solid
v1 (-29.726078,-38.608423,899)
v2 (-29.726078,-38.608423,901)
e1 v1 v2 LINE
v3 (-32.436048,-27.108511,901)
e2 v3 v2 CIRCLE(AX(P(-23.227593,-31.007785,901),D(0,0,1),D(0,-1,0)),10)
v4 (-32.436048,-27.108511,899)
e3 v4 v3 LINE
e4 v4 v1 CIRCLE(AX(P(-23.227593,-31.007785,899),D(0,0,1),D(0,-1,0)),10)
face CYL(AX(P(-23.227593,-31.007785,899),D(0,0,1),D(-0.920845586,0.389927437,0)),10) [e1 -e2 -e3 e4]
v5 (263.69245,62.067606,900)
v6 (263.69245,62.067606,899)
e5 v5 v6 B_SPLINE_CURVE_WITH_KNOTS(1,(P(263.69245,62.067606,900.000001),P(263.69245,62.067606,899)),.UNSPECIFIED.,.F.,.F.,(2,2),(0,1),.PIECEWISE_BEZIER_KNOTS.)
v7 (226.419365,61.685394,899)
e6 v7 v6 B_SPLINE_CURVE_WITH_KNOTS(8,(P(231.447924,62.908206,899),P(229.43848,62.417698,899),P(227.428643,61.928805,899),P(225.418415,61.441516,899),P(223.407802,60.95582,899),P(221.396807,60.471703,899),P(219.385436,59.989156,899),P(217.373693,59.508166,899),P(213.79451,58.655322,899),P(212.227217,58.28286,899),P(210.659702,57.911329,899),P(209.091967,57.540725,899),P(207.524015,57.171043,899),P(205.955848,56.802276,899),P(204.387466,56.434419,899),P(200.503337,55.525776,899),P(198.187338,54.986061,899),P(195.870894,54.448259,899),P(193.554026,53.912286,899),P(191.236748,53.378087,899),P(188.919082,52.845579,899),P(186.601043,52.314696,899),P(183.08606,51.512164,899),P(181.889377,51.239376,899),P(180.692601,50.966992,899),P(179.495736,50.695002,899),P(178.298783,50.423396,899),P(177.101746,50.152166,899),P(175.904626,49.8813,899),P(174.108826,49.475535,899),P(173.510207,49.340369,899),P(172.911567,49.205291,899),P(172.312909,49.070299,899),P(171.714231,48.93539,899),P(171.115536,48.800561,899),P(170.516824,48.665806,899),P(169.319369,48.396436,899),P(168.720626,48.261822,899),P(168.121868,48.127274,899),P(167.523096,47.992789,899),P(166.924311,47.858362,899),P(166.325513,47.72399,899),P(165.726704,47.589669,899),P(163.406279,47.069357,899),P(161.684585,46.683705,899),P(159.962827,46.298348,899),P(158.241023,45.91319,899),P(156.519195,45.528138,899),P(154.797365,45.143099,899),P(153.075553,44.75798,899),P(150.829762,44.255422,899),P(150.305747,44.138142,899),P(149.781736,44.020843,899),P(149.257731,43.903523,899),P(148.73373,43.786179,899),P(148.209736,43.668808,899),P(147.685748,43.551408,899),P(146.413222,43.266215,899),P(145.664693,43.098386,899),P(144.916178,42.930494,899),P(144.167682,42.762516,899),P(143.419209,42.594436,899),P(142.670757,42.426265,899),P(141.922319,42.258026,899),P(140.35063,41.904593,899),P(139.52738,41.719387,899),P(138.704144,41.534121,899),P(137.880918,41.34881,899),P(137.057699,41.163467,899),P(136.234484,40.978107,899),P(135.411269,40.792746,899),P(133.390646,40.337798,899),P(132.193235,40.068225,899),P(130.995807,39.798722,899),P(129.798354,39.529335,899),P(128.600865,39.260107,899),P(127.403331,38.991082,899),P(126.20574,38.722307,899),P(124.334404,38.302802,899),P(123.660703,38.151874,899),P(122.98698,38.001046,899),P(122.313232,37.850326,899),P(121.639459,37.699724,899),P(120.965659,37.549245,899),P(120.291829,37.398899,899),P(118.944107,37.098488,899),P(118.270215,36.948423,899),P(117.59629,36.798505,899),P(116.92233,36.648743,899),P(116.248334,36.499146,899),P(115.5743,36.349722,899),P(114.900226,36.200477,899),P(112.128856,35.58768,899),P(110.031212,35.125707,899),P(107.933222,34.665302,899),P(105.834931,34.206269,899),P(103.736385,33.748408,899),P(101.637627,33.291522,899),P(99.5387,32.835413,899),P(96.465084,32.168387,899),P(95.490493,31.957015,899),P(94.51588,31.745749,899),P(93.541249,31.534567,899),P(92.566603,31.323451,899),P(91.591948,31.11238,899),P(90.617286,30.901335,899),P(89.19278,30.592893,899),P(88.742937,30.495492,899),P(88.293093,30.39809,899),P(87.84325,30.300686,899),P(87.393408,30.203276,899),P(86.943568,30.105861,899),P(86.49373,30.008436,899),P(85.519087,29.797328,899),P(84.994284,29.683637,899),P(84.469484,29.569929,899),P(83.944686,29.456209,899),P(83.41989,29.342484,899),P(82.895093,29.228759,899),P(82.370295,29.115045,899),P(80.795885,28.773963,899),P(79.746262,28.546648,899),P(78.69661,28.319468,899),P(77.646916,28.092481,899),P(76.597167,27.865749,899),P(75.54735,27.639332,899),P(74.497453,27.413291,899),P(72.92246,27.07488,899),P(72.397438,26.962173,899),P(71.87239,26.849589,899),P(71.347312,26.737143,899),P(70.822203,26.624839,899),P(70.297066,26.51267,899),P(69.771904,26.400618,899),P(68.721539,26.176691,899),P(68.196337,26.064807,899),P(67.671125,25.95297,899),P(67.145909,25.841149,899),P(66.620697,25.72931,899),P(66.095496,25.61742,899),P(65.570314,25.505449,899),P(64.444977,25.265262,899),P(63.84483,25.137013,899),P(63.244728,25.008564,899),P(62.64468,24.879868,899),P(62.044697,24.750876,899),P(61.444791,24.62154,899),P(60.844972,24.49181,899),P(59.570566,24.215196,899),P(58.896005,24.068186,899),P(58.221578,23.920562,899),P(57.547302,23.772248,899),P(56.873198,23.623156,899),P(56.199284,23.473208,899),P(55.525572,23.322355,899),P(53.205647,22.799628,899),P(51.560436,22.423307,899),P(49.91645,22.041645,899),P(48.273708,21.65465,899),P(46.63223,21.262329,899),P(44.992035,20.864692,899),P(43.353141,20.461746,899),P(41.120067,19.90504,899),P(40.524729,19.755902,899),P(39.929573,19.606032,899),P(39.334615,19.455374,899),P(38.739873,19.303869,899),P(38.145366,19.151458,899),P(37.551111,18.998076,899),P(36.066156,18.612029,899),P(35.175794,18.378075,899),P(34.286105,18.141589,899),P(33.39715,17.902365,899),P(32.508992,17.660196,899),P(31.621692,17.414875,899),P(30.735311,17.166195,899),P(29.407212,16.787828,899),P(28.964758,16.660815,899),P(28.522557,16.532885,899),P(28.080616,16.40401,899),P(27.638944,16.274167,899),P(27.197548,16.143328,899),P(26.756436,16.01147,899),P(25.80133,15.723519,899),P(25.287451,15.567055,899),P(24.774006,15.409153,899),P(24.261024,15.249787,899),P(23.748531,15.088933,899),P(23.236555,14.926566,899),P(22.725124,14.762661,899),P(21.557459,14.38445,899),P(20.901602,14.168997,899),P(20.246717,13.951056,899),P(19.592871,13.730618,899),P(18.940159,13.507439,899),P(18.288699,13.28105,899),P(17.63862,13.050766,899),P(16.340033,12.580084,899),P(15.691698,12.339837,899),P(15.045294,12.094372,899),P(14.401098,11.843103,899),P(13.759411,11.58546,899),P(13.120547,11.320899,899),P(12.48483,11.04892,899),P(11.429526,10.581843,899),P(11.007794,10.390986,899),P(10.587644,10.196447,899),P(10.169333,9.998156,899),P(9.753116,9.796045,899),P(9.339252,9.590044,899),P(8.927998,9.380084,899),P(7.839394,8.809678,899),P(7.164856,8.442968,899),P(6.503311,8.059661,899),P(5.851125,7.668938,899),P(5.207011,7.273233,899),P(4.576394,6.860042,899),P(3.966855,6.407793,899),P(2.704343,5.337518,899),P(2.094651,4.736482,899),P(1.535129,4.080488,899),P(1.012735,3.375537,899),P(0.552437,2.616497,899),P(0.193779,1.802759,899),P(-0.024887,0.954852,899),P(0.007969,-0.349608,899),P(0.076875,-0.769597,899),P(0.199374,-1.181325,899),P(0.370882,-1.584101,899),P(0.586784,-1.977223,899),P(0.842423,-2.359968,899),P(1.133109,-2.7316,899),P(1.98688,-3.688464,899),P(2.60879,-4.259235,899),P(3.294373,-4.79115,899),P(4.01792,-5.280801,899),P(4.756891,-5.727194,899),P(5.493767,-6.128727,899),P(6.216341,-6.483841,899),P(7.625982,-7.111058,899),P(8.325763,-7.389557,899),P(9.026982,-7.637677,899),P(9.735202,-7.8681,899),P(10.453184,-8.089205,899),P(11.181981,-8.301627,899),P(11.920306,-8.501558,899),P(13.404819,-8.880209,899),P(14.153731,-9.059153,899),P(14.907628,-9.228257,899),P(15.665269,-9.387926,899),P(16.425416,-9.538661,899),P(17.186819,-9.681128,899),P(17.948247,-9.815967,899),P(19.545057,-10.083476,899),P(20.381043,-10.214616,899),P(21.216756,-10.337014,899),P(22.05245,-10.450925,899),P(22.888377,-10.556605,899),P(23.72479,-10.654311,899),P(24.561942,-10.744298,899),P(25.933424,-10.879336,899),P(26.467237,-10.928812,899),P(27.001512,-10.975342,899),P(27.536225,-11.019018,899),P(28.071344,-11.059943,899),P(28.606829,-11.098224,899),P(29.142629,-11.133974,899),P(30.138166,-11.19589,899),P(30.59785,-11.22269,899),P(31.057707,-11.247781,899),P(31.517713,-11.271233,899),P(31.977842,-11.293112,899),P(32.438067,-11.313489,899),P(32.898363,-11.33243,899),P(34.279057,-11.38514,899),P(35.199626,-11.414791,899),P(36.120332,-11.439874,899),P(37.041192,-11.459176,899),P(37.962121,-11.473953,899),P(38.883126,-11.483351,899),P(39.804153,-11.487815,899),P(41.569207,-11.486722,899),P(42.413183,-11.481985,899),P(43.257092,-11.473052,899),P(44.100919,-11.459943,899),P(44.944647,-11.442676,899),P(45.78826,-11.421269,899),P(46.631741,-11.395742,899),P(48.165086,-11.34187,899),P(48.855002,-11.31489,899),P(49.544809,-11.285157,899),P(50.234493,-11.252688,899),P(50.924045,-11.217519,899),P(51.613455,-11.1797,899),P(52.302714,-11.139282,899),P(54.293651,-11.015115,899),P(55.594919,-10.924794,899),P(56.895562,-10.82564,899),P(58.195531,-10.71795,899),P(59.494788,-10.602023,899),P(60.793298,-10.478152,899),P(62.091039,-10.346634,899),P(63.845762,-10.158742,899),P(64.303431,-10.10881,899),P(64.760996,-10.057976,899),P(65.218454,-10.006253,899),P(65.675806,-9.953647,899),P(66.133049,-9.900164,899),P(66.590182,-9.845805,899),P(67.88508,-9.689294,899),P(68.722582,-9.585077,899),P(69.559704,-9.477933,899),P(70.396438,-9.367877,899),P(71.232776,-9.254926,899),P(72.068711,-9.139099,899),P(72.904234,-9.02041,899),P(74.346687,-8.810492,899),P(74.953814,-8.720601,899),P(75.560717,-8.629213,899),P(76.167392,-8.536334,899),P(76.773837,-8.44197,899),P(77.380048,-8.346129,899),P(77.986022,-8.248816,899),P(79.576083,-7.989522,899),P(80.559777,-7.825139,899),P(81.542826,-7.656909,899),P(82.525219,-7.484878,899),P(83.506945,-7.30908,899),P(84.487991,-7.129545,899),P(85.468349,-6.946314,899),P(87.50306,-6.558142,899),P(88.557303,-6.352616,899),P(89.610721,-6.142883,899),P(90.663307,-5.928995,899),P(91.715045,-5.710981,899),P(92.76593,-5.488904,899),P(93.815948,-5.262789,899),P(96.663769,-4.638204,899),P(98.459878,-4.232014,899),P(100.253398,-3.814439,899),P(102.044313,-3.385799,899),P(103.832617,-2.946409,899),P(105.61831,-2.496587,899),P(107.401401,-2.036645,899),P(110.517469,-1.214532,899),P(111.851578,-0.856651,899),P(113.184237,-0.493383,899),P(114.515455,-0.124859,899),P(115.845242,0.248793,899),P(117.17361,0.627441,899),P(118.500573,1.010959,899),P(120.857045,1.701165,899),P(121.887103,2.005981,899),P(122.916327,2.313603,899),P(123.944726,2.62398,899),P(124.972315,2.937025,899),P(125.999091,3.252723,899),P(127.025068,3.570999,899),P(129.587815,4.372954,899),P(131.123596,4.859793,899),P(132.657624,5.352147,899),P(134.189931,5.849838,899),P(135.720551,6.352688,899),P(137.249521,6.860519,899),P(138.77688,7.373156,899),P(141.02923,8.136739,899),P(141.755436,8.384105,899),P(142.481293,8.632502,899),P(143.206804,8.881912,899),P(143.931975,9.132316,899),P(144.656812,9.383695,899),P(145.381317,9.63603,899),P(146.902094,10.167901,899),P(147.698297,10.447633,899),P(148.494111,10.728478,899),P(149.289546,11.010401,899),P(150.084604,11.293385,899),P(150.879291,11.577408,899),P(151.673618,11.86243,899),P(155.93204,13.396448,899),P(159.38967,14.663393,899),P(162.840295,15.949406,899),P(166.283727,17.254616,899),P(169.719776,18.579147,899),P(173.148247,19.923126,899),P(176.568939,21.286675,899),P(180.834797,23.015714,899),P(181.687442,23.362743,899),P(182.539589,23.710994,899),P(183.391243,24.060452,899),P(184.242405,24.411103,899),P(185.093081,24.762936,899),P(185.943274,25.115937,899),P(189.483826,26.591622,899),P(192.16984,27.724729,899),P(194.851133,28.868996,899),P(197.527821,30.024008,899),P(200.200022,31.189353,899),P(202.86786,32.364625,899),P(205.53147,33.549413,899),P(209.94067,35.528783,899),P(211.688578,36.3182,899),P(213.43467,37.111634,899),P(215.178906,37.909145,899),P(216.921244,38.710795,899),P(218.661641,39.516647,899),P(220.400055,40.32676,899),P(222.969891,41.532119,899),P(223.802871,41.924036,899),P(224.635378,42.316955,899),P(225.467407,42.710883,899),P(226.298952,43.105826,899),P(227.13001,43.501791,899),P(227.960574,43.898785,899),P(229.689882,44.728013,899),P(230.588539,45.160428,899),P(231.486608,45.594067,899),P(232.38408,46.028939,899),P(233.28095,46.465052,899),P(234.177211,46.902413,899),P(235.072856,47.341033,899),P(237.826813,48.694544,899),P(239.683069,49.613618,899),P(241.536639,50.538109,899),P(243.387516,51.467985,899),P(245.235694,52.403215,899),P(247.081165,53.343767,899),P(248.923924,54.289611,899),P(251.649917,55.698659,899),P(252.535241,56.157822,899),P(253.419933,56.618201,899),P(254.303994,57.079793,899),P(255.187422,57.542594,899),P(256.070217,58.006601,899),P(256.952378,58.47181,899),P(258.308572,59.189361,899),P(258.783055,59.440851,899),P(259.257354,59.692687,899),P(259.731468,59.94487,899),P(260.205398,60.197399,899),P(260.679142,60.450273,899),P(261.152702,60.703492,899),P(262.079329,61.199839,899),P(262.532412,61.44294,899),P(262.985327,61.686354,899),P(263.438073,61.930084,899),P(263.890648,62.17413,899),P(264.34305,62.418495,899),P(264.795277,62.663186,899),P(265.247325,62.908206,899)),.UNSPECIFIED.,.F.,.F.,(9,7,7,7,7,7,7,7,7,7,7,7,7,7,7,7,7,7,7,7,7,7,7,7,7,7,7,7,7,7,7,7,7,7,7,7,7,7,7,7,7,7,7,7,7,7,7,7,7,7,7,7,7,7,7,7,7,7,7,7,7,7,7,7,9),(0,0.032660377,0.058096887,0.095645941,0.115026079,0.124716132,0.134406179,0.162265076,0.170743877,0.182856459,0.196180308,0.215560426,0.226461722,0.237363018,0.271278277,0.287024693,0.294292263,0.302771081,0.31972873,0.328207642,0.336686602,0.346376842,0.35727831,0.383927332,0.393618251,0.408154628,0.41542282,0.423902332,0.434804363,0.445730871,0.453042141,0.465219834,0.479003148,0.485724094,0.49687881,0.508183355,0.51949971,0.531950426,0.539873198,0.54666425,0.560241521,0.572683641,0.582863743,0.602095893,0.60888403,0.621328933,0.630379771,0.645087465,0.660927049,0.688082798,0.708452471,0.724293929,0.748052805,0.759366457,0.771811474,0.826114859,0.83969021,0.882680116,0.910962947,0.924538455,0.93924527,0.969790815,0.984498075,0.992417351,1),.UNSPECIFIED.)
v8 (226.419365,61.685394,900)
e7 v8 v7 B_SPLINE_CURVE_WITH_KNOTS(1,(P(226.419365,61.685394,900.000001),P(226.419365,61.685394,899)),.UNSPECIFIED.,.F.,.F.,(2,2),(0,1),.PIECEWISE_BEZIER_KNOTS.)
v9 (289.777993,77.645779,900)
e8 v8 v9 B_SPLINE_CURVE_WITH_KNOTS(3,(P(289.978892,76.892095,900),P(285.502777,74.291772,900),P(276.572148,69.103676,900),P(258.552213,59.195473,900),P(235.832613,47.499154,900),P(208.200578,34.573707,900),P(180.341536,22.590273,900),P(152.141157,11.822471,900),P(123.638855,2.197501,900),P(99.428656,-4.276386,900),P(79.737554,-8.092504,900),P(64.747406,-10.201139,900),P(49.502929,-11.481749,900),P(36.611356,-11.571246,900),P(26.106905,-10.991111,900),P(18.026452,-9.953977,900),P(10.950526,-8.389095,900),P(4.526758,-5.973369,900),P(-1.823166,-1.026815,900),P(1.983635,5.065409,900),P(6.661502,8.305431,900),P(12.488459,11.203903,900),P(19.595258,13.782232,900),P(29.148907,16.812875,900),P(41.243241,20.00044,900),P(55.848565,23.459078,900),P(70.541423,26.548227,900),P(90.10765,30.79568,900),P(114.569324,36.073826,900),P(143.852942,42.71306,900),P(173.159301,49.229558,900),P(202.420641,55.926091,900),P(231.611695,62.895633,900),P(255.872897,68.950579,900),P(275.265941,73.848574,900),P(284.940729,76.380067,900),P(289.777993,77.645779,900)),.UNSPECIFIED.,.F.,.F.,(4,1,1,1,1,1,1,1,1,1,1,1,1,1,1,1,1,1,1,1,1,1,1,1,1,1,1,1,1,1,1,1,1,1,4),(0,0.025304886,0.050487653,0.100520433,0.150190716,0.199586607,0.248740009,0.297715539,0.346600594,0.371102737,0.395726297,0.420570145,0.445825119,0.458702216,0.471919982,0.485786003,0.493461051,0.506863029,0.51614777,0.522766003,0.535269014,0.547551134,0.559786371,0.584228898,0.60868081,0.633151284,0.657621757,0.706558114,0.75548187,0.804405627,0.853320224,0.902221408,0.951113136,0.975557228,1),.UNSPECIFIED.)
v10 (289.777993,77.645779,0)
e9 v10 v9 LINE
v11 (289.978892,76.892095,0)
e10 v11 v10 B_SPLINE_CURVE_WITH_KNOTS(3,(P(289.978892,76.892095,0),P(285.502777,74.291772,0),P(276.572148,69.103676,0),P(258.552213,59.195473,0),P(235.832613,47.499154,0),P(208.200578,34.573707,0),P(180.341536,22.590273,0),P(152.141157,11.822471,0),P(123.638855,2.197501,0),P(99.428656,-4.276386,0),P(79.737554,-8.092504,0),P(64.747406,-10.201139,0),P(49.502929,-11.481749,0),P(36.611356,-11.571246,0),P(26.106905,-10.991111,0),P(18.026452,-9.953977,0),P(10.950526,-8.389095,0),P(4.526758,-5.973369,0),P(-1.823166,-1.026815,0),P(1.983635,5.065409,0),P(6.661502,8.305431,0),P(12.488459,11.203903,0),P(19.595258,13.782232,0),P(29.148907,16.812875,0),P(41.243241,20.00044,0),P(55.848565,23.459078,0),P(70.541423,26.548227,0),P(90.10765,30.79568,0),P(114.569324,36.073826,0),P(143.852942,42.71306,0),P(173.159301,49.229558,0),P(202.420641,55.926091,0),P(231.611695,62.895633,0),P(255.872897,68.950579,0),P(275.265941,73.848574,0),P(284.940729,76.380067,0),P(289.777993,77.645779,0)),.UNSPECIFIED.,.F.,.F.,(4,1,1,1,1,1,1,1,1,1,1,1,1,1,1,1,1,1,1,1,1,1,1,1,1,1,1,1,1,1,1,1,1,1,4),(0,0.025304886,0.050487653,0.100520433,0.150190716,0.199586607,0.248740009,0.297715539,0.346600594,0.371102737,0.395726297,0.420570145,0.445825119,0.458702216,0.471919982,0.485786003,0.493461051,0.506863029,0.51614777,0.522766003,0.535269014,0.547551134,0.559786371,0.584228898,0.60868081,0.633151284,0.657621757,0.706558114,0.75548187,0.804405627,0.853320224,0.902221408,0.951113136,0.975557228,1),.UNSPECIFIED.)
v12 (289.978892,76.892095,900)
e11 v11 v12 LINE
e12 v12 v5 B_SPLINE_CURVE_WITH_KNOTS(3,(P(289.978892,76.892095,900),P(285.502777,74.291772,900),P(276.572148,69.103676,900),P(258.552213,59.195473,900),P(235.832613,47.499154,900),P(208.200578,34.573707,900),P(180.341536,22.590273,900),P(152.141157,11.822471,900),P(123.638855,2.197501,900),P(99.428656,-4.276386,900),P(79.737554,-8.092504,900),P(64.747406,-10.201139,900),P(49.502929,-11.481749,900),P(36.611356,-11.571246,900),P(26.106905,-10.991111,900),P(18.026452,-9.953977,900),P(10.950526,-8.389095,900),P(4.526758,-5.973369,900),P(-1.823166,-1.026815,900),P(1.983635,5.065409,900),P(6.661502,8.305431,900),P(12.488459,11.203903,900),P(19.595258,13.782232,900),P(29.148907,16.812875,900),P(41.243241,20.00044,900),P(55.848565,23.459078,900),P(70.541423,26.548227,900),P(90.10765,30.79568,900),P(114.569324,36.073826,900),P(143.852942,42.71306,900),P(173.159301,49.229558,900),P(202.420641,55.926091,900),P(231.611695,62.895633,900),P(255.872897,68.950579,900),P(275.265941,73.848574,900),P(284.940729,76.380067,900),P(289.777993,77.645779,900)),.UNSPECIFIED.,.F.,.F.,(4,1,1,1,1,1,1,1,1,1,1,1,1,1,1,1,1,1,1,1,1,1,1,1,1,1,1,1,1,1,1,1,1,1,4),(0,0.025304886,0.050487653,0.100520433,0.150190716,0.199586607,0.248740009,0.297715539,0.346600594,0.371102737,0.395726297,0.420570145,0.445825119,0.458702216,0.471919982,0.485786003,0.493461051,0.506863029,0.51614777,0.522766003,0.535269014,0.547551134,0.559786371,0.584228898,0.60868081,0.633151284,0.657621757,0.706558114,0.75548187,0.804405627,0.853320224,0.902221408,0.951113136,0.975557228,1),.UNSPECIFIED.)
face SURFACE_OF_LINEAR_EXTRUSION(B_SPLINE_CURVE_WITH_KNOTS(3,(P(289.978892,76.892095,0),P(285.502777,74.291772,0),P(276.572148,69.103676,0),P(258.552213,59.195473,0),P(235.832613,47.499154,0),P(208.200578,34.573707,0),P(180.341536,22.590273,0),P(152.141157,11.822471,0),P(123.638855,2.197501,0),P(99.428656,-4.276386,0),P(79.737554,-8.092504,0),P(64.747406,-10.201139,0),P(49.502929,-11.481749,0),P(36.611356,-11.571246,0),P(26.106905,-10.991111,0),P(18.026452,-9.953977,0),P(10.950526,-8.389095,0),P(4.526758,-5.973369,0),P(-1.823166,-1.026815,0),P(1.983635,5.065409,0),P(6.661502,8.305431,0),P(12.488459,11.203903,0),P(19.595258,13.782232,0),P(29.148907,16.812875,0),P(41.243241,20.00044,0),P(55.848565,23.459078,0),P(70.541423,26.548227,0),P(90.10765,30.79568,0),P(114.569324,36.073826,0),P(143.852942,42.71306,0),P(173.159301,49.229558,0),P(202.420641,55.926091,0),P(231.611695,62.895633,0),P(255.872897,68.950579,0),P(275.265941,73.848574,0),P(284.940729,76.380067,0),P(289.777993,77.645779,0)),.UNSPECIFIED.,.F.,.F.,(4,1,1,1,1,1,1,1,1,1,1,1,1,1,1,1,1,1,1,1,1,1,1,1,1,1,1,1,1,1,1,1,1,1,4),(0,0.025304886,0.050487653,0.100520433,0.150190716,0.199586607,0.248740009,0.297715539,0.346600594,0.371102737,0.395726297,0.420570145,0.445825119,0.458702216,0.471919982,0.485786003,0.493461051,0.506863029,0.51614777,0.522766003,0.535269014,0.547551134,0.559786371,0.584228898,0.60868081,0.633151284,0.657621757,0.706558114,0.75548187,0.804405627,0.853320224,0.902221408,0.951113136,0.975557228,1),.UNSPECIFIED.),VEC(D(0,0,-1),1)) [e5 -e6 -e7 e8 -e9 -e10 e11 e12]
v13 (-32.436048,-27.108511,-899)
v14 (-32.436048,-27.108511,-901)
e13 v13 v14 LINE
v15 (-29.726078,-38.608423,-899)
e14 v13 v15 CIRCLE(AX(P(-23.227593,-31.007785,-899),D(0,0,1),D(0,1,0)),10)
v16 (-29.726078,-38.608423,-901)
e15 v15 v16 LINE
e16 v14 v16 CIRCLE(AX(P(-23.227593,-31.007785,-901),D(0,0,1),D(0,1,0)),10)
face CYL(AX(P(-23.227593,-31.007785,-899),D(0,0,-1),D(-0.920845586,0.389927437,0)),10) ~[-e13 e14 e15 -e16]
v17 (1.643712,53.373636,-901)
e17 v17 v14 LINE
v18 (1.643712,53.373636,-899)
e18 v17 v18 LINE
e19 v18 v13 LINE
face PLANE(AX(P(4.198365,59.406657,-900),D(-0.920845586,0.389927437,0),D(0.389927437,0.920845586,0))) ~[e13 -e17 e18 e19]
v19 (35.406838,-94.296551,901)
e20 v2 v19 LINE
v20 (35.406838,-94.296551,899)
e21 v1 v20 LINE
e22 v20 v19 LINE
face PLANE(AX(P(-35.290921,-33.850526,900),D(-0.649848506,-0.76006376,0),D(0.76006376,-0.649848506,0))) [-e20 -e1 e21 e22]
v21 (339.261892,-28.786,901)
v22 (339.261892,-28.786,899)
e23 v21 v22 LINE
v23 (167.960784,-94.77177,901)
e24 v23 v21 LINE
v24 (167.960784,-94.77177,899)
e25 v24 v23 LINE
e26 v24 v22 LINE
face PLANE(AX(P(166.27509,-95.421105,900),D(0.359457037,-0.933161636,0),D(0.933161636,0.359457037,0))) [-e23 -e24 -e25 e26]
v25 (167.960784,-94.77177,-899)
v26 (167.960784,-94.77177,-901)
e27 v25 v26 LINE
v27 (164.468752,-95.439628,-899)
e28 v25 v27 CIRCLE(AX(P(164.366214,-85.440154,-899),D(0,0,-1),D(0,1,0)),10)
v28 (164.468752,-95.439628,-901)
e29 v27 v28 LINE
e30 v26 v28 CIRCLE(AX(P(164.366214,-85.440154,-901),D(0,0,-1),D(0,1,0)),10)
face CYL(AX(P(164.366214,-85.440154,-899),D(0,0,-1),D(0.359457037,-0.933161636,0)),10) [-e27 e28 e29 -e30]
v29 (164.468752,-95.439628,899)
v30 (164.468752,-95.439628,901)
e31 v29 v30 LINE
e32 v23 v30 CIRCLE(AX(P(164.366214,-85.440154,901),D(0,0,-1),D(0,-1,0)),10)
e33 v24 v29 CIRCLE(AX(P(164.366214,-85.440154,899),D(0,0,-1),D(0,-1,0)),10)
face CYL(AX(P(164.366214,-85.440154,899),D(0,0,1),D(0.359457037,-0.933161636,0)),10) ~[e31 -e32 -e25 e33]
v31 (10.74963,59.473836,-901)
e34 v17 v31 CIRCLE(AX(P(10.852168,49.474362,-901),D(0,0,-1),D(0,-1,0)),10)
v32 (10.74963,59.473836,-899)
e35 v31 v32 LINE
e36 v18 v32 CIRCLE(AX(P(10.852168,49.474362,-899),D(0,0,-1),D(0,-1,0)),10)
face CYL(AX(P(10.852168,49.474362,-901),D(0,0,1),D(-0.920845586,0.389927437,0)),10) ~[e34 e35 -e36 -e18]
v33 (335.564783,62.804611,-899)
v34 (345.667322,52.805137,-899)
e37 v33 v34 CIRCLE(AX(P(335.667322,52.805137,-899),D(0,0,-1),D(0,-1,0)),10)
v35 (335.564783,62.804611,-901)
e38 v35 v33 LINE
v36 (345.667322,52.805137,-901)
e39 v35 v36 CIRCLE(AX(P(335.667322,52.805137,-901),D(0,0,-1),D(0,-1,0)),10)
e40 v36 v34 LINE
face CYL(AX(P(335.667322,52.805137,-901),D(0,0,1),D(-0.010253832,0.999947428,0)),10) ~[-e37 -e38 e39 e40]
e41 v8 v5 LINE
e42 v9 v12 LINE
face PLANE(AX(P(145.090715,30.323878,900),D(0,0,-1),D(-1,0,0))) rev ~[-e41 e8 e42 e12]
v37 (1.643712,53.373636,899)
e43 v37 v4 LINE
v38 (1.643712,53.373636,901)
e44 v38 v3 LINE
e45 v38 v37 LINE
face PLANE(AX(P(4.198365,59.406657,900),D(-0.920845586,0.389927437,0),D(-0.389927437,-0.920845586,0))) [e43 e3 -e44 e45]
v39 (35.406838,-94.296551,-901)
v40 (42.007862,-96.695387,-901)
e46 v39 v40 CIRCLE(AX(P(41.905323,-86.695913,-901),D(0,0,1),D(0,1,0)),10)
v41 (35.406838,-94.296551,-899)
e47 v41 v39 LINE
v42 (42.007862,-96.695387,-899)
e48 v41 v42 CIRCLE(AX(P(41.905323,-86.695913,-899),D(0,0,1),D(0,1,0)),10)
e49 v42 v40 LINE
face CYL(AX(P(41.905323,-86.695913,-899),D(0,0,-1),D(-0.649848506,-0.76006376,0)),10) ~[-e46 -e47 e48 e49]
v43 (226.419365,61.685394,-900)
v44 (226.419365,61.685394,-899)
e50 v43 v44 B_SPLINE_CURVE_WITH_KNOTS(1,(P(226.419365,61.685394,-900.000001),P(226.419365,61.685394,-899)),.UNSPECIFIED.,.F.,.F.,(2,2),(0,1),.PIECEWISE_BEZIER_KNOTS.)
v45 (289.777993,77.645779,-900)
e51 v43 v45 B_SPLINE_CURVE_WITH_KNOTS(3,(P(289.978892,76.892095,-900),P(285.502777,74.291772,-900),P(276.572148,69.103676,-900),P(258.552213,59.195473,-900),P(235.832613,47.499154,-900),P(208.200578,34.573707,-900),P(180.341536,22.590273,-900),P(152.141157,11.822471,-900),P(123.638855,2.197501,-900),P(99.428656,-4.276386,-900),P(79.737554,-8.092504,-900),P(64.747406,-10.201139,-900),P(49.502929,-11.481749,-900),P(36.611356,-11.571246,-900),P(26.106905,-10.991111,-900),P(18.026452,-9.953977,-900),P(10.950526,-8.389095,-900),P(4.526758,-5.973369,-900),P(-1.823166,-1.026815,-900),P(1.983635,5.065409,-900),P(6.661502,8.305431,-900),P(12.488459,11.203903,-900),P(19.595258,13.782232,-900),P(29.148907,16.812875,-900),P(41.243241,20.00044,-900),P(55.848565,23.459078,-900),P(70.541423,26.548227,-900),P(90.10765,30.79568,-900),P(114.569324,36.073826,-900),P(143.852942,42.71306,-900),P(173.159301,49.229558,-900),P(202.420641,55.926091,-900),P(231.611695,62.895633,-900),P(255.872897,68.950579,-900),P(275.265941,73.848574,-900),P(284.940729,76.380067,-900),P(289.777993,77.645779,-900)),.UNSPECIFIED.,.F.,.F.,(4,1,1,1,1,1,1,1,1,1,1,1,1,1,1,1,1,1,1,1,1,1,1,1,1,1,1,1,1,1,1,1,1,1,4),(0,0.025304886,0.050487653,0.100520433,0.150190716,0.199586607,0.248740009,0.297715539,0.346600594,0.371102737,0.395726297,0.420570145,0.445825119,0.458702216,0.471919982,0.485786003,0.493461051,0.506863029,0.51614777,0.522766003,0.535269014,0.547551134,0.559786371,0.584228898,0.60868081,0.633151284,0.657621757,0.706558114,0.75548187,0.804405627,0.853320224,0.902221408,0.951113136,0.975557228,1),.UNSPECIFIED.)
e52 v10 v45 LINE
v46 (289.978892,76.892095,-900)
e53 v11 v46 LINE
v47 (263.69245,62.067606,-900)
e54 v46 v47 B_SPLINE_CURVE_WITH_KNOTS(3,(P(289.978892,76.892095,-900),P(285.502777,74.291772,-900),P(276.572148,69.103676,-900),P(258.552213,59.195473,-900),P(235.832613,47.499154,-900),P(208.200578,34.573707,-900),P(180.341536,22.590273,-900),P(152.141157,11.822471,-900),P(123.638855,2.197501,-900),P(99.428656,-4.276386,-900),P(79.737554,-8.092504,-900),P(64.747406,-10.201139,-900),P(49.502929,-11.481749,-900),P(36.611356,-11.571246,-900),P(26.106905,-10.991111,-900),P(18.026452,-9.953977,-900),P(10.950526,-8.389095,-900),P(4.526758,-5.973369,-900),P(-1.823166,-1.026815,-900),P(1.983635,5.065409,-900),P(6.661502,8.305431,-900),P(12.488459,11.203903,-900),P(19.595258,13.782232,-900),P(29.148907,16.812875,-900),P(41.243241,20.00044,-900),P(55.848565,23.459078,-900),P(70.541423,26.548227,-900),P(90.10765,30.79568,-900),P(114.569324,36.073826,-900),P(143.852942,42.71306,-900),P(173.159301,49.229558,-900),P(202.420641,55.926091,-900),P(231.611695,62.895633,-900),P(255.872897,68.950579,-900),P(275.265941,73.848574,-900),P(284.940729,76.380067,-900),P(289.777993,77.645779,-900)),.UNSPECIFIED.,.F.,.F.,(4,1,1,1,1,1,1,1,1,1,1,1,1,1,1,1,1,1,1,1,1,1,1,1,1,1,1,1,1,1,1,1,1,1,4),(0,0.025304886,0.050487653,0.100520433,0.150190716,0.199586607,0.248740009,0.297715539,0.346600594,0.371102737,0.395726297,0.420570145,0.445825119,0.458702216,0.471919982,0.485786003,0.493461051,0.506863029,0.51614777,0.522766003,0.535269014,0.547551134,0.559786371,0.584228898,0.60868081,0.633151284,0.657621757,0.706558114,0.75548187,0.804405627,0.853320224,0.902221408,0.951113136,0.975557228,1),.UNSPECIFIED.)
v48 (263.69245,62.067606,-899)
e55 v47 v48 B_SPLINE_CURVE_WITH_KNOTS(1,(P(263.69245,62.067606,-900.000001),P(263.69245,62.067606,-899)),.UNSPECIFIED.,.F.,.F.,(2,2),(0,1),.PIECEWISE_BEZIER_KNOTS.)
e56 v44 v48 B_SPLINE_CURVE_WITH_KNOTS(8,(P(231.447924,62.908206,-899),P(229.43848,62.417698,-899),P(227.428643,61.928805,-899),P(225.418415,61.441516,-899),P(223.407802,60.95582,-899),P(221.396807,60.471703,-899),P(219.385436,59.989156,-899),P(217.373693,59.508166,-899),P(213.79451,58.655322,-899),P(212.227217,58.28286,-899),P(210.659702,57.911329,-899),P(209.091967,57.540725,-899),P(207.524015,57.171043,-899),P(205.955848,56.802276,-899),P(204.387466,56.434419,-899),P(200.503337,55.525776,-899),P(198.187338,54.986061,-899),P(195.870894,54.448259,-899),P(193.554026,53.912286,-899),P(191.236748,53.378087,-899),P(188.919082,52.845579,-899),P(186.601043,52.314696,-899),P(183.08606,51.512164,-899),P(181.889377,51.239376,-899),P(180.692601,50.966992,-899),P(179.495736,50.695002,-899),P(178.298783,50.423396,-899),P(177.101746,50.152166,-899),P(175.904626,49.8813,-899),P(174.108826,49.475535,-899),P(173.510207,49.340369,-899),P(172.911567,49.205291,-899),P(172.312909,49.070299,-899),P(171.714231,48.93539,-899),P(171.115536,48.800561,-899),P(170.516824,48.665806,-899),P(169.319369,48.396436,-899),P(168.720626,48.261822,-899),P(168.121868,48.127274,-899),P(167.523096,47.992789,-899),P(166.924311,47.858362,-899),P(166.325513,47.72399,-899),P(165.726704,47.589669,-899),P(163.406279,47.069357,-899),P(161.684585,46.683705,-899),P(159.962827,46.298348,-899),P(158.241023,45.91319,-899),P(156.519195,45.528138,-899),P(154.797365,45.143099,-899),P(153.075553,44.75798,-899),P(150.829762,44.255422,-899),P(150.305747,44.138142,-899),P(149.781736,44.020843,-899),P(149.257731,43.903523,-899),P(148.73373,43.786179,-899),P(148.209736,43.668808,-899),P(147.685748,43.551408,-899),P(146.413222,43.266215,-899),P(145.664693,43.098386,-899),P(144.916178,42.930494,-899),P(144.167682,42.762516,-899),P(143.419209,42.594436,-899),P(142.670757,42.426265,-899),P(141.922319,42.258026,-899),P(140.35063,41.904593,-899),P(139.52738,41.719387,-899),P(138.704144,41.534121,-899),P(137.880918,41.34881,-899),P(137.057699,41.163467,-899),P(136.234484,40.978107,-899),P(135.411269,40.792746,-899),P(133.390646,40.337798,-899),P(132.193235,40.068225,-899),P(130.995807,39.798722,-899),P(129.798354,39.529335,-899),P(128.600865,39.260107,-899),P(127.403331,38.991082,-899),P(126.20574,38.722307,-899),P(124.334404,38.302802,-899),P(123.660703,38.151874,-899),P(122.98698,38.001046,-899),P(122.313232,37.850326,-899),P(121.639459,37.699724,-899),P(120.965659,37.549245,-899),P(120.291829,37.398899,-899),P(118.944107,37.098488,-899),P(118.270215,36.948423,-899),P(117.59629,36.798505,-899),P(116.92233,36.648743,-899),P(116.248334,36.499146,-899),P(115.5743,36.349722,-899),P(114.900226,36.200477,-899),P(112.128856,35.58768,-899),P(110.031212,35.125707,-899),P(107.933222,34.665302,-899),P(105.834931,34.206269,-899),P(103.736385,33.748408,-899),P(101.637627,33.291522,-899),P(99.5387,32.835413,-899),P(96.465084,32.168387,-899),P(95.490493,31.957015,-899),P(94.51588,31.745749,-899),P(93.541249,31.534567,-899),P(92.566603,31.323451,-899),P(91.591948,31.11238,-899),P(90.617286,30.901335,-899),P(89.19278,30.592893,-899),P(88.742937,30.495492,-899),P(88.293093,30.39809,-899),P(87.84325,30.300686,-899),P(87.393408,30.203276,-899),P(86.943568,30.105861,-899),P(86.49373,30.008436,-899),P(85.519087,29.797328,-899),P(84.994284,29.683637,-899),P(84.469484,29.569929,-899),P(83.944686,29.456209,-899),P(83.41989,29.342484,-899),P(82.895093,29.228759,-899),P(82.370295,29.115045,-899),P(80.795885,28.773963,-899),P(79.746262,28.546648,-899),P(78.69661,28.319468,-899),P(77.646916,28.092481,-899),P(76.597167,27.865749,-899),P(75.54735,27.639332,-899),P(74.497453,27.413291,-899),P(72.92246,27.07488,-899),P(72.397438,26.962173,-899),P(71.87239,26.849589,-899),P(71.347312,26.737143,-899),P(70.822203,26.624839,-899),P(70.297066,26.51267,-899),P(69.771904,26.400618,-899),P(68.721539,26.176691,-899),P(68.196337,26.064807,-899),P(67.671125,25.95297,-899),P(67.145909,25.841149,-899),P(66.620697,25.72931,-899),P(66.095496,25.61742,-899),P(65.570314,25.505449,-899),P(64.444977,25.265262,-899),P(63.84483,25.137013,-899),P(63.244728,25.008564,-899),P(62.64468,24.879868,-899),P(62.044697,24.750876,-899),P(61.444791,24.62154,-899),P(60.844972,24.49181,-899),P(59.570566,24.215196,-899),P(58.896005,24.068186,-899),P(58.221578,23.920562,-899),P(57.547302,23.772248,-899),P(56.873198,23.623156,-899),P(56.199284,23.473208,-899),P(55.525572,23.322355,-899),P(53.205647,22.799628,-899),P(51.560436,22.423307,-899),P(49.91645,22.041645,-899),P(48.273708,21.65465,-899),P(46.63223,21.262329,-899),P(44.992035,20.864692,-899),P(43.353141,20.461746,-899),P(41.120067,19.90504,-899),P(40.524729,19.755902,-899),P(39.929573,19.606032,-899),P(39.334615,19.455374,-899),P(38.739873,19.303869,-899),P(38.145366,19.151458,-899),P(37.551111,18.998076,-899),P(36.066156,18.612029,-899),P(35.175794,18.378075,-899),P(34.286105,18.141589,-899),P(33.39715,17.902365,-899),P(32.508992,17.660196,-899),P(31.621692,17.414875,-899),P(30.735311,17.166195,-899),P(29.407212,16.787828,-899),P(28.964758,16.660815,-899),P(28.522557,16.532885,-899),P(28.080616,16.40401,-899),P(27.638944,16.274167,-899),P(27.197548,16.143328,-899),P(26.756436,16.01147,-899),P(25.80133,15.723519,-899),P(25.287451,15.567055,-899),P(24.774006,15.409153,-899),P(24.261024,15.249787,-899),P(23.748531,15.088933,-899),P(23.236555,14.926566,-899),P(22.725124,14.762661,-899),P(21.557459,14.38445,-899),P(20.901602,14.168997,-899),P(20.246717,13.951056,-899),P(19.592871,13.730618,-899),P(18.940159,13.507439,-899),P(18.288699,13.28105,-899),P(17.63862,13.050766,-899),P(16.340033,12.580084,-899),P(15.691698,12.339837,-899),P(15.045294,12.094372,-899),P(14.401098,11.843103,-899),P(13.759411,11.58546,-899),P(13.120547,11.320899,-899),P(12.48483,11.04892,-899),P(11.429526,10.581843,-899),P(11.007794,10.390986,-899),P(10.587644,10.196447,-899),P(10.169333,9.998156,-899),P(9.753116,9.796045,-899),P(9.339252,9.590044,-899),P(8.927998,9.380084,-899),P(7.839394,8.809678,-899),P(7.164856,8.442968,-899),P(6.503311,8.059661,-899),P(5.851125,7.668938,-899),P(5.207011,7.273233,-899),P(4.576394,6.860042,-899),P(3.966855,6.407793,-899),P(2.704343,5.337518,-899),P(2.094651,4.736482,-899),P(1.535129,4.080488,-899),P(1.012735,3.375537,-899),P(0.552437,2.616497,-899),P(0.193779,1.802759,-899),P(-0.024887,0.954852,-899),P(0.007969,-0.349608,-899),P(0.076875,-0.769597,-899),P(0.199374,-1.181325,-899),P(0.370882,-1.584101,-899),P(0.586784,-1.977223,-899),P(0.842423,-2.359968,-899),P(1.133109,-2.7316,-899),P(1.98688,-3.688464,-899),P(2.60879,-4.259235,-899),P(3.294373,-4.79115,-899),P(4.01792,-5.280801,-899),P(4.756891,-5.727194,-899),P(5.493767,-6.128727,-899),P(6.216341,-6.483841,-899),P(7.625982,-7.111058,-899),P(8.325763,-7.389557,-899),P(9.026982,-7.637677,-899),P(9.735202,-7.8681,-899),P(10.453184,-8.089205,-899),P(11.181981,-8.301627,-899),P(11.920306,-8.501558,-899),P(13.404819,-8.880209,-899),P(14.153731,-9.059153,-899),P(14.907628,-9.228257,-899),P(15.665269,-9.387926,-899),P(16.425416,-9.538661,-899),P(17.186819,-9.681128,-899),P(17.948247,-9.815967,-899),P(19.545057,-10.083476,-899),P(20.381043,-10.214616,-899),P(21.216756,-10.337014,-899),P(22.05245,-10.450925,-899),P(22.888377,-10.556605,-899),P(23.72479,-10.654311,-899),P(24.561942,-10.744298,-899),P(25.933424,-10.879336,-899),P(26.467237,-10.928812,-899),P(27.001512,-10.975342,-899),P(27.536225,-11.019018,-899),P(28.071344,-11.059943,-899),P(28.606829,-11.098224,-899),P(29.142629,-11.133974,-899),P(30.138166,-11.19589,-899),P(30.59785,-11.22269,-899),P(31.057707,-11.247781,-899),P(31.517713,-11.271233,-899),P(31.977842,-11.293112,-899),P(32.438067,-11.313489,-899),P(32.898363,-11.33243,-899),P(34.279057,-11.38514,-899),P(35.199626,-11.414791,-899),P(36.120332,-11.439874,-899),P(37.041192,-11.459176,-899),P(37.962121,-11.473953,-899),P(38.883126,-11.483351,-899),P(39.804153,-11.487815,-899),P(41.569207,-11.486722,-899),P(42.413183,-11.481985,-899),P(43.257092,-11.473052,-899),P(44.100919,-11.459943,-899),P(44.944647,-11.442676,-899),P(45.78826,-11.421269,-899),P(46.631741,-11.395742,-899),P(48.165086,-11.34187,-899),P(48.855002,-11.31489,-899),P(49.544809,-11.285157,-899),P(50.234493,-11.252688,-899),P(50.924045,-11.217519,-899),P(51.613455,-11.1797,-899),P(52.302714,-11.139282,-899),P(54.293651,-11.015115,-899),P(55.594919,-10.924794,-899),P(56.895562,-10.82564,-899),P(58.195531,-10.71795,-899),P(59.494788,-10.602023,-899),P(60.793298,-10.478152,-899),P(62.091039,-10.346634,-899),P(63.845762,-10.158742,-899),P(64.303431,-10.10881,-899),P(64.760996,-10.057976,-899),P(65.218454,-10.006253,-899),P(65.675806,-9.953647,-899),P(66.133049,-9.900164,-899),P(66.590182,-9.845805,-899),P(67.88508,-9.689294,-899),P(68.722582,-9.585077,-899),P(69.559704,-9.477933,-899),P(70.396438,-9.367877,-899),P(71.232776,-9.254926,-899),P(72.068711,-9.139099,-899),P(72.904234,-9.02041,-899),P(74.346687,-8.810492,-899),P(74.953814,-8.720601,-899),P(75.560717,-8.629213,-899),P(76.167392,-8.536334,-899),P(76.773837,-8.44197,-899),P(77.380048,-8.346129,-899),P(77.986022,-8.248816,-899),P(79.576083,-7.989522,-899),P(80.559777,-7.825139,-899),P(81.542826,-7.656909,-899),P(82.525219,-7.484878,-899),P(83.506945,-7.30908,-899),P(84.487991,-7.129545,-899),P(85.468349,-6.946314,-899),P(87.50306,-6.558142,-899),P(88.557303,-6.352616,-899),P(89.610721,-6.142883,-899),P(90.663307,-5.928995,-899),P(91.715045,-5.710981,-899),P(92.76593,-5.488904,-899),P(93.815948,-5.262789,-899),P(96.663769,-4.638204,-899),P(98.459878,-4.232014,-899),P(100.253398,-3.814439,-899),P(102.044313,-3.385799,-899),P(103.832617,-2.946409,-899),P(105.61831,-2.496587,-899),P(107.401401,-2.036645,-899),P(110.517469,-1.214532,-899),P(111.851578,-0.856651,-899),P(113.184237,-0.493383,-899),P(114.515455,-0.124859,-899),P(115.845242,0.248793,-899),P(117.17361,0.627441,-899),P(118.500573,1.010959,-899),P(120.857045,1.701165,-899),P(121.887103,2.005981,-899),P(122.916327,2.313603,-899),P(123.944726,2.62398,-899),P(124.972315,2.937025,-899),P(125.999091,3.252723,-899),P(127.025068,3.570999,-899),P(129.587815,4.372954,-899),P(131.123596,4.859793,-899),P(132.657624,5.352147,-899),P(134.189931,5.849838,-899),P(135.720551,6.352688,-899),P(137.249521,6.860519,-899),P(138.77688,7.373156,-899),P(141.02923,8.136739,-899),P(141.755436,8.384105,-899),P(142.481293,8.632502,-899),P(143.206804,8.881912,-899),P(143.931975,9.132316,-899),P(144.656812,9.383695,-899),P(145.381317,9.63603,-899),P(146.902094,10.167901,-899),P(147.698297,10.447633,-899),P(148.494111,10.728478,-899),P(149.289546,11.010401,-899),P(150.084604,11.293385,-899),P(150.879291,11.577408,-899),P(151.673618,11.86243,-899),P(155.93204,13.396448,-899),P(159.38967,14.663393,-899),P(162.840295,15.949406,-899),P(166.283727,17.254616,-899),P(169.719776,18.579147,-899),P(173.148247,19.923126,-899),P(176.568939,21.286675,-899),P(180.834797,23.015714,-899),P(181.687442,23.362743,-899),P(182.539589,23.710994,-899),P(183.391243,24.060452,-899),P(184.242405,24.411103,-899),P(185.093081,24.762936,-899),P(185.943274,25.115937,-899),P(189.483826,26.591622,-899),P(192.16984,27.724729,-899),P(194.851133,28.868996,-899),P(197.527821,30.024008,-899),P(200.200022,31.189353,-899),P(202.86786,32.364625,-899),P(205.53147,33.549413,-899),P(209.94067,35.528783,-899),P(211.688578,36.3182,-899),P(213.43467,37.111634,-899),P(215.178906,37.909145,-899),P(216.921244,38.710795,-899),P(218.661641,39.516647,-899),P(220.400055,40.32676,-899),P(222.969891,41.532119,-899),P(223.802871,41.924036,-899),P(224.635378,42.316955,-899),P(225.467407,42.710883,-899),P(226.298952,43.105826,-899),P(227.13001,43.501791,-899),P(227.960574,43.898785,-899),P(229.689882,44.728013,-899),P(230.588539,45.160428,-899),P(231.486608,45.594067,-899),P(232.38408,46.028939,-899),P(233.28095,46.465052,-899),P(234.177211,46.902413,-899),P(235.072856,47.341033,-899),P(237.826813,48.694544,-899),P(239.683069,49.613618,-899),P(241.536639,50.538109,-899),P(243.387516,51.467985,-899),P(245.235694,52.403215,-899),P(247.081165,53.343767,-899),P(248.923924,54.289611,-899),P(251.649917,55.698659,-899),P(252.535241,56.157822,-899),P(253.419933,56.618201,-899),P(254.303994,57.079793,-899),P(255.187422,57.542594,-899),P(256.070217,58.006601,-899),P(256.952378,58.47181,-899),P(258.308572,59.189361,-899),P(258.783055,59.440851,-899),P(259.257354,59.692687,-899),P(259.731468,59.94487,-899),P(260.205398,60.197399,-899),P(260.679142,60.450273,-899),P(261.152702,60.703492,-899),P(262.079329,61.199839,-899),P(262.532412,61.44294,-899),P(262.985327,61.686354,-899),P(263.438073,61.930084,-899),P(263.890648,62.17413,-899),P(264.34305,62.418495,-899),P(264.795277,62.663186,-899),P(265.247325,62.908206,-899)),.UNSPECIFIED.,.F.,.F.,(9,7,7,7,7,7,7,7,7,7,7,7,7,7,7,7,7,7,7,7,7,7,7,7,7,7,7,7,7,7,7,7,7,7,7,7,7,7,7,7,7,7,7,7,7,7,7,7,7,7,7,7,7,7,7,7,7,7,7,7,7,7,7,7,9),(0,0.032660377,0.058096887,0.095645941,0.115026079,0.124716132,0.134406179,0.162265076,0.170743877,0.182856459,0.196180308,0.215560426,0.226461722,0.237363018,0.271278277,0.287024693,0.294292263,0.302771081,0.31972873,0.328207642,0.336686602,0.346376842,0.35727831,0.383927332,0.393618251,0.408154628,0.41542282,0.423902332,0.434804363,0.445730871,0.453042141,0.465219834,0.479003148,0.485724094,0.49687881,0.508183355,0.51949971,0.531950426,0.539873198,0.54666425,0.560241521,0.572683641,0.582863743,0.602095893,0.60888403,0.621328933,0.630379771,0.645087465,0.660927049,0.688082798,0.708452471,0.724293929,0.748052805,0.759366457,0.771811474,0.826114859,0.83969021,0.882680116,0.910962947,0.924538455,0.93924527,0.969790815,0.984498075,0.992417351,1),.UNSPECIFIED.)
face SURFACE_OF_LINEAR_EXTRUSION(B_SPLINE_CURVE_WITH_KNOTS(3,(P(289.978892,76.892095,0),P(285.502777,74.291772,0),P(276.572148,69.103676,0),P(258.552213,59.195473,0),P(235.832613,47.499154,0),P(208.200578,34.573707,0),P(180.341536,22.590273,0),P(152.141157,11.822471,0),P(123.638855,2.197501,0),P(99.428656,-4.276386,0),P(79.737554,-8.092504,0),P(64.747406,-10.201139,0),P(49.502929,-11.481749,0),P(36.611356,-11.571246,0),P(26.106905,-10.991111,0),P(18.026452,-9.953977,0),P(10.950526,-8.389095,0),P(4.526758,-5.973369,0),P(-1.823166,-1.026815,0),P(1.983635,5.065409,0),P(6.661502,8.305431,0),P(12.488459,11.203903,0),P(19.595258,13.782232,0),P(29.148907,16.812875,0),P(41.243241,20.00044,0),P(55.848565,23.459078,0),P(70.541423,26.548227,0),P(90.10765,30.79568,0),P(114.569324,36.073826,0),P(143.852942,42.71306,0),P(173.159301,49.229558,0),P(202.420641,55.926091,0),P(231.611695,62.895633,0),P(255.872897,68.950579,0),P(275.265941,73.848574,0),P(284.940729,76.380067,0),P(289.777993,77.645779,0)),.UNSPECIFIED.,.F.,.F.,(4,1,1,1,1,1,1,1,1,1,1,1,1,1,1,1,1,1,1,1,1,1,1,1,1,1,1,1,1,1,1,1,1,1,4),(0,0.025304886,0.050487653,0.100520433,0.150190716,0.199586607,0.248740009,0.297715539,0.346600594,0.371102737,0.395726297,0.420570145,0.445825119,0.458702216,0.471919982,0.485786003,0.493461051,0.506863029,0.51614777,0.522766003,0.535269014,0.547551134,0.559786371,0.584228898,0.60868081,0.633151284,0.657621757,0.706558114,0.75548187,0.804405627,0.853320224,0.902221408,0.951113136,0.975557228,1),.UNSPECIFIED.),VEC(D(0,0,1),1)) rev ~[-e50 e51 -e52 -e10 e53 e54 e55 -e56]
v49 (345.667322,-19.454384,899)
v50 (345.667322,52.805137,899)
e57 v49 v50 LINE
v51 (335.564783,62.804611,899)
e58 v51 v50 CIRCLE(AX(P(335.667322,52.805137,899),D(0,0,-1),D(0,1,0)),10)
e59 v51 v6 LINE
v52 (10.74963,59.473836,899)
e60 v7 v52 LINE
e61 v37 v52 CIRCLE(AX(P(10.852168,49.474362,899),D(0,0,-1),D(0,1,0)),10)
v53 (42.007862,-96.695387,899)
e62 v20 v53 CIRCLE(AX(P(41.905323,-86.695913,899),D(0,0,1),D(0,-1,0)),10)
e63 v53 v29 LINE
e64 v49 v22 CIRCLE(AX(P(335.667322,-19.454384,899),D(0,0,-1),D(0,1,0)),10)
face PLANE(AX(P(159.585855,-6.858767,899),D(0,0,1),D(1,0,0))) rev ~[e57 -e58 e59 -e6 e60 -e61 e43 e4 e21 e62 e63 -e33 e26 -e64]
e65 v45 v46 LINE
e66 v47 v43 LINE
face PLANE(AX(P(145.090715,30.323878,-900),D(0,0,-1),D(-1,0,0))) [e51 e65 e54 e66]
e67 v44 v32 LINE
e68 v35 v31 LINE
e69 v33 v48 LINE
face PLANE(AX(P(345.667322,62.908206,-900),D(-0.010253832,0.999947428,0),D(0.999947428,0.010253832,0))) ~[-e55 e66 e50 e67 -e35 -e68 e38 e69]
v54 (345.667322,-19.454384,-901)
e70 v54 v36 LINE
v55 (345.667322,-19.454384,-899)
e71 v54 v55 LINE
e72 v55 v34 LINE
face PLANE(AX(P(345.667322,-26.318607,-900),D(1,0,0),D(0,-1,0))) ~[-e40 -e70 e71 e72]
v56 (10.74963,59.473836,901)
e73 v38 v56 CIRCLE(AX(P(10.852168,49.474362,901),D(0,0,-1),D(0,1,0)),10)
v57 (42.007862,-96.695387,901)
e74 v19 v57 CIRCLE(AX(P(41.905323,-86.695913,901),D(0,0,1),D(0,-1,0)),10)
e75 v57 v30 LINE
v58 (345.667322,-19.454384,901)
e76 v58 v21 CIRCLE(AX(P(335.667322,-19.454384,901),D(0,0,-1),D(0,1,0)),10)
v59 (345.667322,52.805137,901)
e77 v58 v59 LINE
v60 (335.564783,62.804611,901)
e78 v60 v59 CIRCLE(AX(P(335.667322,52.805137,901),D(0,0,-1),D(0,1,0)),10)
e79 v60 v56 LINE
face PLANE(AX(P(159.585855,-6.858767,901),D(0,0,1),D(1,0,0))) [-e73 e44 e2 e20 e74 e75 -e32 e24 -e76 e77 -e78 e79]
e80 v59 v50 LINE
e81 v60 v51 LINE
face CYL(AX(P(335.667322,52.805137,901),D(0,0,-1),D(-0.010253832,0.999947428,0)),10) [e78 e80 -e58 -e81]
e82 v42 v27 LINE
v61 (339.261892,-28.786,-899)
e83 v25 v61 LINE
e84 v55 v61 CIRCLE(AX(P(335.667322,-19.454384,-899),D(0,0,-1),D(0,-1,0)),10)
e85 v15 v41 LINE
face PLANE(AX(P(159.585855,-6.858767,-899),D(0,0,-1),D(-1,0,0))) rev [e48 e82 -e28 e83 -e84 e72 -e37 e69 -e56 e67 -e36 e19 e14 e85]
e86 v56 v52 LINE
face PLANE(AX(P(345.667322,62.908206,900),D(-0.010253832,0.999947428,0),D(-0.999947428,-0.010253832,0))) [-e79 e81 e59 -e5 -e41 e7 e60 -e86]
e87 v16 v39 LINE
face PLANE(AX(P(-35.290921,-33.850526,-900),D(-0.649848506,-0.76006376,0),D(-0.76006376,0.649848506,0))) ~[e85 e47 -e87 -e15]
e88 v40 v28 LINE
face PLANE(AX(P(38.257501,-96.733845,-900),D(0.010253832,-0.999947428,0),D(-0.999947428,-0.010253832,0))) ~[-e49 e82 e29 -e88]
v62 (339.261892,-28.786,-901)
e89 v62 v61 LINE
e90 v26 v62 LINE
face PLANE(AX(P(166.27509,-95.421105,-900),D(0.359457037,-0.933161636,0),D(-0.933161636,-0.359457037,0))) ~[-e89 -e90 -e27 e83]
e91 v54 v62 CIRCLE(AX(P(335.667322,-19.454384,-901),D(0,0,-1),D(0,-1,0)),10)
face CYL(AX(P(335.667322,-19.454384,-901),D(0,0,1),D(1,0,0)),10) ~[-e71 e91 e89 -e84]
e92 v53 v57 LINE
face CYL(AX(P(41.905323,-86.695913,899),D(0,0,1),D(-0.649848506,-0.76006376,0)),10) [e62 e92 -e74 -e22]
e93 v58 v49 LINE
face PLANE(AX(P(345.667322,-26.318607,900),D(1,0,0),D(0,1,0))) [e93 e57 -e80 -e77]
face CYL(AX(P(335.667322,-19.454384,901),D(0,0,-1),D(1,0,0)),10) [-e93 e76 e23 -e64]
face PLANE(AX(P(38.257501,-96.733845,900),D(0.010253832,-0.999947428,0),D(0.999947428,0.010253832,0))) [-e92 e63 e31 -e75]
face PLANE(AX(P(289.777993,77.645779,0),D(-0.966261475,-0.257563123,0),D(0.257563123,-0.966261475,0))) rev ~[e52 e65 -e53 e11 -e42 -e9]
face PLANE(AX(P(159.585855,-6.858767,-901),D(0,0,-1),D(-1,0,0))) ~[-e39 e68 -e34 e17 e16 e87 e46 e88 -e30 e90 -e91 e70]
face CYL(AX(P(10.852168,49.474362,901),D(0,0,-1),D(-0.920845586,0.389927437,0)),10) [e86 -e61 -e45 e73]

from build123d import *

# Parameters (mm, degrees)
REAR_WING_DEPTH              = 900
ENDPLATE_DEPTH               = 1
ENDPLATE_FILLET_R            = 10
ENDPLATE_FILLET_OF_MIRROR3_R = 10


with BuildPart() as part:
    # AirfoilSketch → Rear Wing (new, symmetric)
    with BuildSketch(Plane.XY):
        with BuildLine():
            Line((289.777992749, 77.645779141), (289.978891985, 76.892095191))
            add(Edge.make_bspline(
                [(289.978891985, 76.892095191), (285.502776828, 74.291772359), (276.572147653, 69.103675508), (258.552213317, 59.195472899), (235.832613079, 47.49915358), (208.200578325, 34.573706685), (180.341535978, 22.590272594), (152.141156589, 11.822470505), (123.638855092, 2.197501189), (99.428656251, -4.276385952), (79.737554075, -8.092504169), (64.747405651, -10.201139063), (49.502929403, -11.481749168), (36.611356426, -11.571245652), (26.106904712, -10.991110902), (18.026451701, -9.953976824), (10.950525907, -8.389094964), (4.526757874, -5.973368857), (-1.823166345, -1.026815446), (1.983634928, 5.065409194), (6.661501855, 8.305430923), (12.48845941, 11.203902636), (19.595257537, 13.782232198), (29.148906614, 16.812875179), (41.243240975, 20.000440488), (55.848565247, 23.459078085), (70.54142306, 26.548227327), (90.107650027, 30.795679686), (114.569323768, 36.073825639), (143.852942157, 42.713060191), (173.159301147, 49.229557623), (202.420640768, 55.926091162), (231.611695395, 62.895633399), (255.872896925, 68.95057924), (275.26594148, 73.848574366), (284.940729391, 76.380066998), (289.777992749, 77.645779141)],
                knots=[0, 0, 0, 0, 0.025304886, 0.050487653, 0.100520433, 0.150190716, 0.199586607, 0.248740009, 0.297715539, 0.346600594, 0.371102737, 0.395726297, 0.420570145, 0.445825119, 0.458702216, 0.471919982, 0.485786003, 0.493461051, 0.506863029, 0.51614777, 0.522766003, 0.535269014, 0.547551134, 0.559786371, 0.584228898, 0.60868081, 0.633151284, 0.657621757, 0.706558114, 0.75548187, 0.804405627, 0.853320224, 0.902221408, 0.951113136, 0.975557228, 1, 1, 1, 1], degree=3))
        make_face()
    extrude(amount=REAR_WING_DEPTH, both=True)

    # Endplate Sketch → Endplate (add, symmetric)
    with BuildSketch(Plane.XY.offset(900)):
        Polygon((4.198364617, 59.406656961), (-35.29092082, -33.850525596), (38.257501257, -96.733844985), (166.27509038, -95.421105135), (345.667321655, -26.31860721), (345.667321655, 62.908206322), align=None)
    endplate = extrude(amount=ENDPLATE_DEPTH, both=True)

    # Endplate Fillet
    endplate_fillet_edges = [part.edges().sort_by_distance(p)[0] for p in [
        (345.667321655, 62.908206322, 900),
        (4.198364617, 59.406656961, 900),
        (-35.29092082, -33.850525596, 900),
        (38.257501257, -96.733844985, 900),
        (166.27509038, -95.421105135, 900),
        (345.667321655, -26.31860721, 900),
    ]]
    fillet(endplate_fillet_edges, radius=ENDPLATE_FILLET_R)

    # Mirror3: Endplate across plane
    add(endplate.mirror(Plane.XY))

    # Endplate Fillet of Mirror3
    endplate_fillet_of_mirror3_edges = [part.edges().sort_by_distance(p)[0] for p in [
        (345.667321655, 62.908206322, -900),
        (4.198364617, 59.406656961, -900),
        (-35.29092082, -33.850525596, -900),
        (38.257501257, -96.733844985, -900),
        (166.27509038, -95.421105135, -900),
        (345.667321655, -26.31860721, -900),
    ]]
    fillet(endplate_fillet_of_mirror3_edges, radius=ENDPLATE_FILLET_OF_MIRROR3_R)


solid = part.part
